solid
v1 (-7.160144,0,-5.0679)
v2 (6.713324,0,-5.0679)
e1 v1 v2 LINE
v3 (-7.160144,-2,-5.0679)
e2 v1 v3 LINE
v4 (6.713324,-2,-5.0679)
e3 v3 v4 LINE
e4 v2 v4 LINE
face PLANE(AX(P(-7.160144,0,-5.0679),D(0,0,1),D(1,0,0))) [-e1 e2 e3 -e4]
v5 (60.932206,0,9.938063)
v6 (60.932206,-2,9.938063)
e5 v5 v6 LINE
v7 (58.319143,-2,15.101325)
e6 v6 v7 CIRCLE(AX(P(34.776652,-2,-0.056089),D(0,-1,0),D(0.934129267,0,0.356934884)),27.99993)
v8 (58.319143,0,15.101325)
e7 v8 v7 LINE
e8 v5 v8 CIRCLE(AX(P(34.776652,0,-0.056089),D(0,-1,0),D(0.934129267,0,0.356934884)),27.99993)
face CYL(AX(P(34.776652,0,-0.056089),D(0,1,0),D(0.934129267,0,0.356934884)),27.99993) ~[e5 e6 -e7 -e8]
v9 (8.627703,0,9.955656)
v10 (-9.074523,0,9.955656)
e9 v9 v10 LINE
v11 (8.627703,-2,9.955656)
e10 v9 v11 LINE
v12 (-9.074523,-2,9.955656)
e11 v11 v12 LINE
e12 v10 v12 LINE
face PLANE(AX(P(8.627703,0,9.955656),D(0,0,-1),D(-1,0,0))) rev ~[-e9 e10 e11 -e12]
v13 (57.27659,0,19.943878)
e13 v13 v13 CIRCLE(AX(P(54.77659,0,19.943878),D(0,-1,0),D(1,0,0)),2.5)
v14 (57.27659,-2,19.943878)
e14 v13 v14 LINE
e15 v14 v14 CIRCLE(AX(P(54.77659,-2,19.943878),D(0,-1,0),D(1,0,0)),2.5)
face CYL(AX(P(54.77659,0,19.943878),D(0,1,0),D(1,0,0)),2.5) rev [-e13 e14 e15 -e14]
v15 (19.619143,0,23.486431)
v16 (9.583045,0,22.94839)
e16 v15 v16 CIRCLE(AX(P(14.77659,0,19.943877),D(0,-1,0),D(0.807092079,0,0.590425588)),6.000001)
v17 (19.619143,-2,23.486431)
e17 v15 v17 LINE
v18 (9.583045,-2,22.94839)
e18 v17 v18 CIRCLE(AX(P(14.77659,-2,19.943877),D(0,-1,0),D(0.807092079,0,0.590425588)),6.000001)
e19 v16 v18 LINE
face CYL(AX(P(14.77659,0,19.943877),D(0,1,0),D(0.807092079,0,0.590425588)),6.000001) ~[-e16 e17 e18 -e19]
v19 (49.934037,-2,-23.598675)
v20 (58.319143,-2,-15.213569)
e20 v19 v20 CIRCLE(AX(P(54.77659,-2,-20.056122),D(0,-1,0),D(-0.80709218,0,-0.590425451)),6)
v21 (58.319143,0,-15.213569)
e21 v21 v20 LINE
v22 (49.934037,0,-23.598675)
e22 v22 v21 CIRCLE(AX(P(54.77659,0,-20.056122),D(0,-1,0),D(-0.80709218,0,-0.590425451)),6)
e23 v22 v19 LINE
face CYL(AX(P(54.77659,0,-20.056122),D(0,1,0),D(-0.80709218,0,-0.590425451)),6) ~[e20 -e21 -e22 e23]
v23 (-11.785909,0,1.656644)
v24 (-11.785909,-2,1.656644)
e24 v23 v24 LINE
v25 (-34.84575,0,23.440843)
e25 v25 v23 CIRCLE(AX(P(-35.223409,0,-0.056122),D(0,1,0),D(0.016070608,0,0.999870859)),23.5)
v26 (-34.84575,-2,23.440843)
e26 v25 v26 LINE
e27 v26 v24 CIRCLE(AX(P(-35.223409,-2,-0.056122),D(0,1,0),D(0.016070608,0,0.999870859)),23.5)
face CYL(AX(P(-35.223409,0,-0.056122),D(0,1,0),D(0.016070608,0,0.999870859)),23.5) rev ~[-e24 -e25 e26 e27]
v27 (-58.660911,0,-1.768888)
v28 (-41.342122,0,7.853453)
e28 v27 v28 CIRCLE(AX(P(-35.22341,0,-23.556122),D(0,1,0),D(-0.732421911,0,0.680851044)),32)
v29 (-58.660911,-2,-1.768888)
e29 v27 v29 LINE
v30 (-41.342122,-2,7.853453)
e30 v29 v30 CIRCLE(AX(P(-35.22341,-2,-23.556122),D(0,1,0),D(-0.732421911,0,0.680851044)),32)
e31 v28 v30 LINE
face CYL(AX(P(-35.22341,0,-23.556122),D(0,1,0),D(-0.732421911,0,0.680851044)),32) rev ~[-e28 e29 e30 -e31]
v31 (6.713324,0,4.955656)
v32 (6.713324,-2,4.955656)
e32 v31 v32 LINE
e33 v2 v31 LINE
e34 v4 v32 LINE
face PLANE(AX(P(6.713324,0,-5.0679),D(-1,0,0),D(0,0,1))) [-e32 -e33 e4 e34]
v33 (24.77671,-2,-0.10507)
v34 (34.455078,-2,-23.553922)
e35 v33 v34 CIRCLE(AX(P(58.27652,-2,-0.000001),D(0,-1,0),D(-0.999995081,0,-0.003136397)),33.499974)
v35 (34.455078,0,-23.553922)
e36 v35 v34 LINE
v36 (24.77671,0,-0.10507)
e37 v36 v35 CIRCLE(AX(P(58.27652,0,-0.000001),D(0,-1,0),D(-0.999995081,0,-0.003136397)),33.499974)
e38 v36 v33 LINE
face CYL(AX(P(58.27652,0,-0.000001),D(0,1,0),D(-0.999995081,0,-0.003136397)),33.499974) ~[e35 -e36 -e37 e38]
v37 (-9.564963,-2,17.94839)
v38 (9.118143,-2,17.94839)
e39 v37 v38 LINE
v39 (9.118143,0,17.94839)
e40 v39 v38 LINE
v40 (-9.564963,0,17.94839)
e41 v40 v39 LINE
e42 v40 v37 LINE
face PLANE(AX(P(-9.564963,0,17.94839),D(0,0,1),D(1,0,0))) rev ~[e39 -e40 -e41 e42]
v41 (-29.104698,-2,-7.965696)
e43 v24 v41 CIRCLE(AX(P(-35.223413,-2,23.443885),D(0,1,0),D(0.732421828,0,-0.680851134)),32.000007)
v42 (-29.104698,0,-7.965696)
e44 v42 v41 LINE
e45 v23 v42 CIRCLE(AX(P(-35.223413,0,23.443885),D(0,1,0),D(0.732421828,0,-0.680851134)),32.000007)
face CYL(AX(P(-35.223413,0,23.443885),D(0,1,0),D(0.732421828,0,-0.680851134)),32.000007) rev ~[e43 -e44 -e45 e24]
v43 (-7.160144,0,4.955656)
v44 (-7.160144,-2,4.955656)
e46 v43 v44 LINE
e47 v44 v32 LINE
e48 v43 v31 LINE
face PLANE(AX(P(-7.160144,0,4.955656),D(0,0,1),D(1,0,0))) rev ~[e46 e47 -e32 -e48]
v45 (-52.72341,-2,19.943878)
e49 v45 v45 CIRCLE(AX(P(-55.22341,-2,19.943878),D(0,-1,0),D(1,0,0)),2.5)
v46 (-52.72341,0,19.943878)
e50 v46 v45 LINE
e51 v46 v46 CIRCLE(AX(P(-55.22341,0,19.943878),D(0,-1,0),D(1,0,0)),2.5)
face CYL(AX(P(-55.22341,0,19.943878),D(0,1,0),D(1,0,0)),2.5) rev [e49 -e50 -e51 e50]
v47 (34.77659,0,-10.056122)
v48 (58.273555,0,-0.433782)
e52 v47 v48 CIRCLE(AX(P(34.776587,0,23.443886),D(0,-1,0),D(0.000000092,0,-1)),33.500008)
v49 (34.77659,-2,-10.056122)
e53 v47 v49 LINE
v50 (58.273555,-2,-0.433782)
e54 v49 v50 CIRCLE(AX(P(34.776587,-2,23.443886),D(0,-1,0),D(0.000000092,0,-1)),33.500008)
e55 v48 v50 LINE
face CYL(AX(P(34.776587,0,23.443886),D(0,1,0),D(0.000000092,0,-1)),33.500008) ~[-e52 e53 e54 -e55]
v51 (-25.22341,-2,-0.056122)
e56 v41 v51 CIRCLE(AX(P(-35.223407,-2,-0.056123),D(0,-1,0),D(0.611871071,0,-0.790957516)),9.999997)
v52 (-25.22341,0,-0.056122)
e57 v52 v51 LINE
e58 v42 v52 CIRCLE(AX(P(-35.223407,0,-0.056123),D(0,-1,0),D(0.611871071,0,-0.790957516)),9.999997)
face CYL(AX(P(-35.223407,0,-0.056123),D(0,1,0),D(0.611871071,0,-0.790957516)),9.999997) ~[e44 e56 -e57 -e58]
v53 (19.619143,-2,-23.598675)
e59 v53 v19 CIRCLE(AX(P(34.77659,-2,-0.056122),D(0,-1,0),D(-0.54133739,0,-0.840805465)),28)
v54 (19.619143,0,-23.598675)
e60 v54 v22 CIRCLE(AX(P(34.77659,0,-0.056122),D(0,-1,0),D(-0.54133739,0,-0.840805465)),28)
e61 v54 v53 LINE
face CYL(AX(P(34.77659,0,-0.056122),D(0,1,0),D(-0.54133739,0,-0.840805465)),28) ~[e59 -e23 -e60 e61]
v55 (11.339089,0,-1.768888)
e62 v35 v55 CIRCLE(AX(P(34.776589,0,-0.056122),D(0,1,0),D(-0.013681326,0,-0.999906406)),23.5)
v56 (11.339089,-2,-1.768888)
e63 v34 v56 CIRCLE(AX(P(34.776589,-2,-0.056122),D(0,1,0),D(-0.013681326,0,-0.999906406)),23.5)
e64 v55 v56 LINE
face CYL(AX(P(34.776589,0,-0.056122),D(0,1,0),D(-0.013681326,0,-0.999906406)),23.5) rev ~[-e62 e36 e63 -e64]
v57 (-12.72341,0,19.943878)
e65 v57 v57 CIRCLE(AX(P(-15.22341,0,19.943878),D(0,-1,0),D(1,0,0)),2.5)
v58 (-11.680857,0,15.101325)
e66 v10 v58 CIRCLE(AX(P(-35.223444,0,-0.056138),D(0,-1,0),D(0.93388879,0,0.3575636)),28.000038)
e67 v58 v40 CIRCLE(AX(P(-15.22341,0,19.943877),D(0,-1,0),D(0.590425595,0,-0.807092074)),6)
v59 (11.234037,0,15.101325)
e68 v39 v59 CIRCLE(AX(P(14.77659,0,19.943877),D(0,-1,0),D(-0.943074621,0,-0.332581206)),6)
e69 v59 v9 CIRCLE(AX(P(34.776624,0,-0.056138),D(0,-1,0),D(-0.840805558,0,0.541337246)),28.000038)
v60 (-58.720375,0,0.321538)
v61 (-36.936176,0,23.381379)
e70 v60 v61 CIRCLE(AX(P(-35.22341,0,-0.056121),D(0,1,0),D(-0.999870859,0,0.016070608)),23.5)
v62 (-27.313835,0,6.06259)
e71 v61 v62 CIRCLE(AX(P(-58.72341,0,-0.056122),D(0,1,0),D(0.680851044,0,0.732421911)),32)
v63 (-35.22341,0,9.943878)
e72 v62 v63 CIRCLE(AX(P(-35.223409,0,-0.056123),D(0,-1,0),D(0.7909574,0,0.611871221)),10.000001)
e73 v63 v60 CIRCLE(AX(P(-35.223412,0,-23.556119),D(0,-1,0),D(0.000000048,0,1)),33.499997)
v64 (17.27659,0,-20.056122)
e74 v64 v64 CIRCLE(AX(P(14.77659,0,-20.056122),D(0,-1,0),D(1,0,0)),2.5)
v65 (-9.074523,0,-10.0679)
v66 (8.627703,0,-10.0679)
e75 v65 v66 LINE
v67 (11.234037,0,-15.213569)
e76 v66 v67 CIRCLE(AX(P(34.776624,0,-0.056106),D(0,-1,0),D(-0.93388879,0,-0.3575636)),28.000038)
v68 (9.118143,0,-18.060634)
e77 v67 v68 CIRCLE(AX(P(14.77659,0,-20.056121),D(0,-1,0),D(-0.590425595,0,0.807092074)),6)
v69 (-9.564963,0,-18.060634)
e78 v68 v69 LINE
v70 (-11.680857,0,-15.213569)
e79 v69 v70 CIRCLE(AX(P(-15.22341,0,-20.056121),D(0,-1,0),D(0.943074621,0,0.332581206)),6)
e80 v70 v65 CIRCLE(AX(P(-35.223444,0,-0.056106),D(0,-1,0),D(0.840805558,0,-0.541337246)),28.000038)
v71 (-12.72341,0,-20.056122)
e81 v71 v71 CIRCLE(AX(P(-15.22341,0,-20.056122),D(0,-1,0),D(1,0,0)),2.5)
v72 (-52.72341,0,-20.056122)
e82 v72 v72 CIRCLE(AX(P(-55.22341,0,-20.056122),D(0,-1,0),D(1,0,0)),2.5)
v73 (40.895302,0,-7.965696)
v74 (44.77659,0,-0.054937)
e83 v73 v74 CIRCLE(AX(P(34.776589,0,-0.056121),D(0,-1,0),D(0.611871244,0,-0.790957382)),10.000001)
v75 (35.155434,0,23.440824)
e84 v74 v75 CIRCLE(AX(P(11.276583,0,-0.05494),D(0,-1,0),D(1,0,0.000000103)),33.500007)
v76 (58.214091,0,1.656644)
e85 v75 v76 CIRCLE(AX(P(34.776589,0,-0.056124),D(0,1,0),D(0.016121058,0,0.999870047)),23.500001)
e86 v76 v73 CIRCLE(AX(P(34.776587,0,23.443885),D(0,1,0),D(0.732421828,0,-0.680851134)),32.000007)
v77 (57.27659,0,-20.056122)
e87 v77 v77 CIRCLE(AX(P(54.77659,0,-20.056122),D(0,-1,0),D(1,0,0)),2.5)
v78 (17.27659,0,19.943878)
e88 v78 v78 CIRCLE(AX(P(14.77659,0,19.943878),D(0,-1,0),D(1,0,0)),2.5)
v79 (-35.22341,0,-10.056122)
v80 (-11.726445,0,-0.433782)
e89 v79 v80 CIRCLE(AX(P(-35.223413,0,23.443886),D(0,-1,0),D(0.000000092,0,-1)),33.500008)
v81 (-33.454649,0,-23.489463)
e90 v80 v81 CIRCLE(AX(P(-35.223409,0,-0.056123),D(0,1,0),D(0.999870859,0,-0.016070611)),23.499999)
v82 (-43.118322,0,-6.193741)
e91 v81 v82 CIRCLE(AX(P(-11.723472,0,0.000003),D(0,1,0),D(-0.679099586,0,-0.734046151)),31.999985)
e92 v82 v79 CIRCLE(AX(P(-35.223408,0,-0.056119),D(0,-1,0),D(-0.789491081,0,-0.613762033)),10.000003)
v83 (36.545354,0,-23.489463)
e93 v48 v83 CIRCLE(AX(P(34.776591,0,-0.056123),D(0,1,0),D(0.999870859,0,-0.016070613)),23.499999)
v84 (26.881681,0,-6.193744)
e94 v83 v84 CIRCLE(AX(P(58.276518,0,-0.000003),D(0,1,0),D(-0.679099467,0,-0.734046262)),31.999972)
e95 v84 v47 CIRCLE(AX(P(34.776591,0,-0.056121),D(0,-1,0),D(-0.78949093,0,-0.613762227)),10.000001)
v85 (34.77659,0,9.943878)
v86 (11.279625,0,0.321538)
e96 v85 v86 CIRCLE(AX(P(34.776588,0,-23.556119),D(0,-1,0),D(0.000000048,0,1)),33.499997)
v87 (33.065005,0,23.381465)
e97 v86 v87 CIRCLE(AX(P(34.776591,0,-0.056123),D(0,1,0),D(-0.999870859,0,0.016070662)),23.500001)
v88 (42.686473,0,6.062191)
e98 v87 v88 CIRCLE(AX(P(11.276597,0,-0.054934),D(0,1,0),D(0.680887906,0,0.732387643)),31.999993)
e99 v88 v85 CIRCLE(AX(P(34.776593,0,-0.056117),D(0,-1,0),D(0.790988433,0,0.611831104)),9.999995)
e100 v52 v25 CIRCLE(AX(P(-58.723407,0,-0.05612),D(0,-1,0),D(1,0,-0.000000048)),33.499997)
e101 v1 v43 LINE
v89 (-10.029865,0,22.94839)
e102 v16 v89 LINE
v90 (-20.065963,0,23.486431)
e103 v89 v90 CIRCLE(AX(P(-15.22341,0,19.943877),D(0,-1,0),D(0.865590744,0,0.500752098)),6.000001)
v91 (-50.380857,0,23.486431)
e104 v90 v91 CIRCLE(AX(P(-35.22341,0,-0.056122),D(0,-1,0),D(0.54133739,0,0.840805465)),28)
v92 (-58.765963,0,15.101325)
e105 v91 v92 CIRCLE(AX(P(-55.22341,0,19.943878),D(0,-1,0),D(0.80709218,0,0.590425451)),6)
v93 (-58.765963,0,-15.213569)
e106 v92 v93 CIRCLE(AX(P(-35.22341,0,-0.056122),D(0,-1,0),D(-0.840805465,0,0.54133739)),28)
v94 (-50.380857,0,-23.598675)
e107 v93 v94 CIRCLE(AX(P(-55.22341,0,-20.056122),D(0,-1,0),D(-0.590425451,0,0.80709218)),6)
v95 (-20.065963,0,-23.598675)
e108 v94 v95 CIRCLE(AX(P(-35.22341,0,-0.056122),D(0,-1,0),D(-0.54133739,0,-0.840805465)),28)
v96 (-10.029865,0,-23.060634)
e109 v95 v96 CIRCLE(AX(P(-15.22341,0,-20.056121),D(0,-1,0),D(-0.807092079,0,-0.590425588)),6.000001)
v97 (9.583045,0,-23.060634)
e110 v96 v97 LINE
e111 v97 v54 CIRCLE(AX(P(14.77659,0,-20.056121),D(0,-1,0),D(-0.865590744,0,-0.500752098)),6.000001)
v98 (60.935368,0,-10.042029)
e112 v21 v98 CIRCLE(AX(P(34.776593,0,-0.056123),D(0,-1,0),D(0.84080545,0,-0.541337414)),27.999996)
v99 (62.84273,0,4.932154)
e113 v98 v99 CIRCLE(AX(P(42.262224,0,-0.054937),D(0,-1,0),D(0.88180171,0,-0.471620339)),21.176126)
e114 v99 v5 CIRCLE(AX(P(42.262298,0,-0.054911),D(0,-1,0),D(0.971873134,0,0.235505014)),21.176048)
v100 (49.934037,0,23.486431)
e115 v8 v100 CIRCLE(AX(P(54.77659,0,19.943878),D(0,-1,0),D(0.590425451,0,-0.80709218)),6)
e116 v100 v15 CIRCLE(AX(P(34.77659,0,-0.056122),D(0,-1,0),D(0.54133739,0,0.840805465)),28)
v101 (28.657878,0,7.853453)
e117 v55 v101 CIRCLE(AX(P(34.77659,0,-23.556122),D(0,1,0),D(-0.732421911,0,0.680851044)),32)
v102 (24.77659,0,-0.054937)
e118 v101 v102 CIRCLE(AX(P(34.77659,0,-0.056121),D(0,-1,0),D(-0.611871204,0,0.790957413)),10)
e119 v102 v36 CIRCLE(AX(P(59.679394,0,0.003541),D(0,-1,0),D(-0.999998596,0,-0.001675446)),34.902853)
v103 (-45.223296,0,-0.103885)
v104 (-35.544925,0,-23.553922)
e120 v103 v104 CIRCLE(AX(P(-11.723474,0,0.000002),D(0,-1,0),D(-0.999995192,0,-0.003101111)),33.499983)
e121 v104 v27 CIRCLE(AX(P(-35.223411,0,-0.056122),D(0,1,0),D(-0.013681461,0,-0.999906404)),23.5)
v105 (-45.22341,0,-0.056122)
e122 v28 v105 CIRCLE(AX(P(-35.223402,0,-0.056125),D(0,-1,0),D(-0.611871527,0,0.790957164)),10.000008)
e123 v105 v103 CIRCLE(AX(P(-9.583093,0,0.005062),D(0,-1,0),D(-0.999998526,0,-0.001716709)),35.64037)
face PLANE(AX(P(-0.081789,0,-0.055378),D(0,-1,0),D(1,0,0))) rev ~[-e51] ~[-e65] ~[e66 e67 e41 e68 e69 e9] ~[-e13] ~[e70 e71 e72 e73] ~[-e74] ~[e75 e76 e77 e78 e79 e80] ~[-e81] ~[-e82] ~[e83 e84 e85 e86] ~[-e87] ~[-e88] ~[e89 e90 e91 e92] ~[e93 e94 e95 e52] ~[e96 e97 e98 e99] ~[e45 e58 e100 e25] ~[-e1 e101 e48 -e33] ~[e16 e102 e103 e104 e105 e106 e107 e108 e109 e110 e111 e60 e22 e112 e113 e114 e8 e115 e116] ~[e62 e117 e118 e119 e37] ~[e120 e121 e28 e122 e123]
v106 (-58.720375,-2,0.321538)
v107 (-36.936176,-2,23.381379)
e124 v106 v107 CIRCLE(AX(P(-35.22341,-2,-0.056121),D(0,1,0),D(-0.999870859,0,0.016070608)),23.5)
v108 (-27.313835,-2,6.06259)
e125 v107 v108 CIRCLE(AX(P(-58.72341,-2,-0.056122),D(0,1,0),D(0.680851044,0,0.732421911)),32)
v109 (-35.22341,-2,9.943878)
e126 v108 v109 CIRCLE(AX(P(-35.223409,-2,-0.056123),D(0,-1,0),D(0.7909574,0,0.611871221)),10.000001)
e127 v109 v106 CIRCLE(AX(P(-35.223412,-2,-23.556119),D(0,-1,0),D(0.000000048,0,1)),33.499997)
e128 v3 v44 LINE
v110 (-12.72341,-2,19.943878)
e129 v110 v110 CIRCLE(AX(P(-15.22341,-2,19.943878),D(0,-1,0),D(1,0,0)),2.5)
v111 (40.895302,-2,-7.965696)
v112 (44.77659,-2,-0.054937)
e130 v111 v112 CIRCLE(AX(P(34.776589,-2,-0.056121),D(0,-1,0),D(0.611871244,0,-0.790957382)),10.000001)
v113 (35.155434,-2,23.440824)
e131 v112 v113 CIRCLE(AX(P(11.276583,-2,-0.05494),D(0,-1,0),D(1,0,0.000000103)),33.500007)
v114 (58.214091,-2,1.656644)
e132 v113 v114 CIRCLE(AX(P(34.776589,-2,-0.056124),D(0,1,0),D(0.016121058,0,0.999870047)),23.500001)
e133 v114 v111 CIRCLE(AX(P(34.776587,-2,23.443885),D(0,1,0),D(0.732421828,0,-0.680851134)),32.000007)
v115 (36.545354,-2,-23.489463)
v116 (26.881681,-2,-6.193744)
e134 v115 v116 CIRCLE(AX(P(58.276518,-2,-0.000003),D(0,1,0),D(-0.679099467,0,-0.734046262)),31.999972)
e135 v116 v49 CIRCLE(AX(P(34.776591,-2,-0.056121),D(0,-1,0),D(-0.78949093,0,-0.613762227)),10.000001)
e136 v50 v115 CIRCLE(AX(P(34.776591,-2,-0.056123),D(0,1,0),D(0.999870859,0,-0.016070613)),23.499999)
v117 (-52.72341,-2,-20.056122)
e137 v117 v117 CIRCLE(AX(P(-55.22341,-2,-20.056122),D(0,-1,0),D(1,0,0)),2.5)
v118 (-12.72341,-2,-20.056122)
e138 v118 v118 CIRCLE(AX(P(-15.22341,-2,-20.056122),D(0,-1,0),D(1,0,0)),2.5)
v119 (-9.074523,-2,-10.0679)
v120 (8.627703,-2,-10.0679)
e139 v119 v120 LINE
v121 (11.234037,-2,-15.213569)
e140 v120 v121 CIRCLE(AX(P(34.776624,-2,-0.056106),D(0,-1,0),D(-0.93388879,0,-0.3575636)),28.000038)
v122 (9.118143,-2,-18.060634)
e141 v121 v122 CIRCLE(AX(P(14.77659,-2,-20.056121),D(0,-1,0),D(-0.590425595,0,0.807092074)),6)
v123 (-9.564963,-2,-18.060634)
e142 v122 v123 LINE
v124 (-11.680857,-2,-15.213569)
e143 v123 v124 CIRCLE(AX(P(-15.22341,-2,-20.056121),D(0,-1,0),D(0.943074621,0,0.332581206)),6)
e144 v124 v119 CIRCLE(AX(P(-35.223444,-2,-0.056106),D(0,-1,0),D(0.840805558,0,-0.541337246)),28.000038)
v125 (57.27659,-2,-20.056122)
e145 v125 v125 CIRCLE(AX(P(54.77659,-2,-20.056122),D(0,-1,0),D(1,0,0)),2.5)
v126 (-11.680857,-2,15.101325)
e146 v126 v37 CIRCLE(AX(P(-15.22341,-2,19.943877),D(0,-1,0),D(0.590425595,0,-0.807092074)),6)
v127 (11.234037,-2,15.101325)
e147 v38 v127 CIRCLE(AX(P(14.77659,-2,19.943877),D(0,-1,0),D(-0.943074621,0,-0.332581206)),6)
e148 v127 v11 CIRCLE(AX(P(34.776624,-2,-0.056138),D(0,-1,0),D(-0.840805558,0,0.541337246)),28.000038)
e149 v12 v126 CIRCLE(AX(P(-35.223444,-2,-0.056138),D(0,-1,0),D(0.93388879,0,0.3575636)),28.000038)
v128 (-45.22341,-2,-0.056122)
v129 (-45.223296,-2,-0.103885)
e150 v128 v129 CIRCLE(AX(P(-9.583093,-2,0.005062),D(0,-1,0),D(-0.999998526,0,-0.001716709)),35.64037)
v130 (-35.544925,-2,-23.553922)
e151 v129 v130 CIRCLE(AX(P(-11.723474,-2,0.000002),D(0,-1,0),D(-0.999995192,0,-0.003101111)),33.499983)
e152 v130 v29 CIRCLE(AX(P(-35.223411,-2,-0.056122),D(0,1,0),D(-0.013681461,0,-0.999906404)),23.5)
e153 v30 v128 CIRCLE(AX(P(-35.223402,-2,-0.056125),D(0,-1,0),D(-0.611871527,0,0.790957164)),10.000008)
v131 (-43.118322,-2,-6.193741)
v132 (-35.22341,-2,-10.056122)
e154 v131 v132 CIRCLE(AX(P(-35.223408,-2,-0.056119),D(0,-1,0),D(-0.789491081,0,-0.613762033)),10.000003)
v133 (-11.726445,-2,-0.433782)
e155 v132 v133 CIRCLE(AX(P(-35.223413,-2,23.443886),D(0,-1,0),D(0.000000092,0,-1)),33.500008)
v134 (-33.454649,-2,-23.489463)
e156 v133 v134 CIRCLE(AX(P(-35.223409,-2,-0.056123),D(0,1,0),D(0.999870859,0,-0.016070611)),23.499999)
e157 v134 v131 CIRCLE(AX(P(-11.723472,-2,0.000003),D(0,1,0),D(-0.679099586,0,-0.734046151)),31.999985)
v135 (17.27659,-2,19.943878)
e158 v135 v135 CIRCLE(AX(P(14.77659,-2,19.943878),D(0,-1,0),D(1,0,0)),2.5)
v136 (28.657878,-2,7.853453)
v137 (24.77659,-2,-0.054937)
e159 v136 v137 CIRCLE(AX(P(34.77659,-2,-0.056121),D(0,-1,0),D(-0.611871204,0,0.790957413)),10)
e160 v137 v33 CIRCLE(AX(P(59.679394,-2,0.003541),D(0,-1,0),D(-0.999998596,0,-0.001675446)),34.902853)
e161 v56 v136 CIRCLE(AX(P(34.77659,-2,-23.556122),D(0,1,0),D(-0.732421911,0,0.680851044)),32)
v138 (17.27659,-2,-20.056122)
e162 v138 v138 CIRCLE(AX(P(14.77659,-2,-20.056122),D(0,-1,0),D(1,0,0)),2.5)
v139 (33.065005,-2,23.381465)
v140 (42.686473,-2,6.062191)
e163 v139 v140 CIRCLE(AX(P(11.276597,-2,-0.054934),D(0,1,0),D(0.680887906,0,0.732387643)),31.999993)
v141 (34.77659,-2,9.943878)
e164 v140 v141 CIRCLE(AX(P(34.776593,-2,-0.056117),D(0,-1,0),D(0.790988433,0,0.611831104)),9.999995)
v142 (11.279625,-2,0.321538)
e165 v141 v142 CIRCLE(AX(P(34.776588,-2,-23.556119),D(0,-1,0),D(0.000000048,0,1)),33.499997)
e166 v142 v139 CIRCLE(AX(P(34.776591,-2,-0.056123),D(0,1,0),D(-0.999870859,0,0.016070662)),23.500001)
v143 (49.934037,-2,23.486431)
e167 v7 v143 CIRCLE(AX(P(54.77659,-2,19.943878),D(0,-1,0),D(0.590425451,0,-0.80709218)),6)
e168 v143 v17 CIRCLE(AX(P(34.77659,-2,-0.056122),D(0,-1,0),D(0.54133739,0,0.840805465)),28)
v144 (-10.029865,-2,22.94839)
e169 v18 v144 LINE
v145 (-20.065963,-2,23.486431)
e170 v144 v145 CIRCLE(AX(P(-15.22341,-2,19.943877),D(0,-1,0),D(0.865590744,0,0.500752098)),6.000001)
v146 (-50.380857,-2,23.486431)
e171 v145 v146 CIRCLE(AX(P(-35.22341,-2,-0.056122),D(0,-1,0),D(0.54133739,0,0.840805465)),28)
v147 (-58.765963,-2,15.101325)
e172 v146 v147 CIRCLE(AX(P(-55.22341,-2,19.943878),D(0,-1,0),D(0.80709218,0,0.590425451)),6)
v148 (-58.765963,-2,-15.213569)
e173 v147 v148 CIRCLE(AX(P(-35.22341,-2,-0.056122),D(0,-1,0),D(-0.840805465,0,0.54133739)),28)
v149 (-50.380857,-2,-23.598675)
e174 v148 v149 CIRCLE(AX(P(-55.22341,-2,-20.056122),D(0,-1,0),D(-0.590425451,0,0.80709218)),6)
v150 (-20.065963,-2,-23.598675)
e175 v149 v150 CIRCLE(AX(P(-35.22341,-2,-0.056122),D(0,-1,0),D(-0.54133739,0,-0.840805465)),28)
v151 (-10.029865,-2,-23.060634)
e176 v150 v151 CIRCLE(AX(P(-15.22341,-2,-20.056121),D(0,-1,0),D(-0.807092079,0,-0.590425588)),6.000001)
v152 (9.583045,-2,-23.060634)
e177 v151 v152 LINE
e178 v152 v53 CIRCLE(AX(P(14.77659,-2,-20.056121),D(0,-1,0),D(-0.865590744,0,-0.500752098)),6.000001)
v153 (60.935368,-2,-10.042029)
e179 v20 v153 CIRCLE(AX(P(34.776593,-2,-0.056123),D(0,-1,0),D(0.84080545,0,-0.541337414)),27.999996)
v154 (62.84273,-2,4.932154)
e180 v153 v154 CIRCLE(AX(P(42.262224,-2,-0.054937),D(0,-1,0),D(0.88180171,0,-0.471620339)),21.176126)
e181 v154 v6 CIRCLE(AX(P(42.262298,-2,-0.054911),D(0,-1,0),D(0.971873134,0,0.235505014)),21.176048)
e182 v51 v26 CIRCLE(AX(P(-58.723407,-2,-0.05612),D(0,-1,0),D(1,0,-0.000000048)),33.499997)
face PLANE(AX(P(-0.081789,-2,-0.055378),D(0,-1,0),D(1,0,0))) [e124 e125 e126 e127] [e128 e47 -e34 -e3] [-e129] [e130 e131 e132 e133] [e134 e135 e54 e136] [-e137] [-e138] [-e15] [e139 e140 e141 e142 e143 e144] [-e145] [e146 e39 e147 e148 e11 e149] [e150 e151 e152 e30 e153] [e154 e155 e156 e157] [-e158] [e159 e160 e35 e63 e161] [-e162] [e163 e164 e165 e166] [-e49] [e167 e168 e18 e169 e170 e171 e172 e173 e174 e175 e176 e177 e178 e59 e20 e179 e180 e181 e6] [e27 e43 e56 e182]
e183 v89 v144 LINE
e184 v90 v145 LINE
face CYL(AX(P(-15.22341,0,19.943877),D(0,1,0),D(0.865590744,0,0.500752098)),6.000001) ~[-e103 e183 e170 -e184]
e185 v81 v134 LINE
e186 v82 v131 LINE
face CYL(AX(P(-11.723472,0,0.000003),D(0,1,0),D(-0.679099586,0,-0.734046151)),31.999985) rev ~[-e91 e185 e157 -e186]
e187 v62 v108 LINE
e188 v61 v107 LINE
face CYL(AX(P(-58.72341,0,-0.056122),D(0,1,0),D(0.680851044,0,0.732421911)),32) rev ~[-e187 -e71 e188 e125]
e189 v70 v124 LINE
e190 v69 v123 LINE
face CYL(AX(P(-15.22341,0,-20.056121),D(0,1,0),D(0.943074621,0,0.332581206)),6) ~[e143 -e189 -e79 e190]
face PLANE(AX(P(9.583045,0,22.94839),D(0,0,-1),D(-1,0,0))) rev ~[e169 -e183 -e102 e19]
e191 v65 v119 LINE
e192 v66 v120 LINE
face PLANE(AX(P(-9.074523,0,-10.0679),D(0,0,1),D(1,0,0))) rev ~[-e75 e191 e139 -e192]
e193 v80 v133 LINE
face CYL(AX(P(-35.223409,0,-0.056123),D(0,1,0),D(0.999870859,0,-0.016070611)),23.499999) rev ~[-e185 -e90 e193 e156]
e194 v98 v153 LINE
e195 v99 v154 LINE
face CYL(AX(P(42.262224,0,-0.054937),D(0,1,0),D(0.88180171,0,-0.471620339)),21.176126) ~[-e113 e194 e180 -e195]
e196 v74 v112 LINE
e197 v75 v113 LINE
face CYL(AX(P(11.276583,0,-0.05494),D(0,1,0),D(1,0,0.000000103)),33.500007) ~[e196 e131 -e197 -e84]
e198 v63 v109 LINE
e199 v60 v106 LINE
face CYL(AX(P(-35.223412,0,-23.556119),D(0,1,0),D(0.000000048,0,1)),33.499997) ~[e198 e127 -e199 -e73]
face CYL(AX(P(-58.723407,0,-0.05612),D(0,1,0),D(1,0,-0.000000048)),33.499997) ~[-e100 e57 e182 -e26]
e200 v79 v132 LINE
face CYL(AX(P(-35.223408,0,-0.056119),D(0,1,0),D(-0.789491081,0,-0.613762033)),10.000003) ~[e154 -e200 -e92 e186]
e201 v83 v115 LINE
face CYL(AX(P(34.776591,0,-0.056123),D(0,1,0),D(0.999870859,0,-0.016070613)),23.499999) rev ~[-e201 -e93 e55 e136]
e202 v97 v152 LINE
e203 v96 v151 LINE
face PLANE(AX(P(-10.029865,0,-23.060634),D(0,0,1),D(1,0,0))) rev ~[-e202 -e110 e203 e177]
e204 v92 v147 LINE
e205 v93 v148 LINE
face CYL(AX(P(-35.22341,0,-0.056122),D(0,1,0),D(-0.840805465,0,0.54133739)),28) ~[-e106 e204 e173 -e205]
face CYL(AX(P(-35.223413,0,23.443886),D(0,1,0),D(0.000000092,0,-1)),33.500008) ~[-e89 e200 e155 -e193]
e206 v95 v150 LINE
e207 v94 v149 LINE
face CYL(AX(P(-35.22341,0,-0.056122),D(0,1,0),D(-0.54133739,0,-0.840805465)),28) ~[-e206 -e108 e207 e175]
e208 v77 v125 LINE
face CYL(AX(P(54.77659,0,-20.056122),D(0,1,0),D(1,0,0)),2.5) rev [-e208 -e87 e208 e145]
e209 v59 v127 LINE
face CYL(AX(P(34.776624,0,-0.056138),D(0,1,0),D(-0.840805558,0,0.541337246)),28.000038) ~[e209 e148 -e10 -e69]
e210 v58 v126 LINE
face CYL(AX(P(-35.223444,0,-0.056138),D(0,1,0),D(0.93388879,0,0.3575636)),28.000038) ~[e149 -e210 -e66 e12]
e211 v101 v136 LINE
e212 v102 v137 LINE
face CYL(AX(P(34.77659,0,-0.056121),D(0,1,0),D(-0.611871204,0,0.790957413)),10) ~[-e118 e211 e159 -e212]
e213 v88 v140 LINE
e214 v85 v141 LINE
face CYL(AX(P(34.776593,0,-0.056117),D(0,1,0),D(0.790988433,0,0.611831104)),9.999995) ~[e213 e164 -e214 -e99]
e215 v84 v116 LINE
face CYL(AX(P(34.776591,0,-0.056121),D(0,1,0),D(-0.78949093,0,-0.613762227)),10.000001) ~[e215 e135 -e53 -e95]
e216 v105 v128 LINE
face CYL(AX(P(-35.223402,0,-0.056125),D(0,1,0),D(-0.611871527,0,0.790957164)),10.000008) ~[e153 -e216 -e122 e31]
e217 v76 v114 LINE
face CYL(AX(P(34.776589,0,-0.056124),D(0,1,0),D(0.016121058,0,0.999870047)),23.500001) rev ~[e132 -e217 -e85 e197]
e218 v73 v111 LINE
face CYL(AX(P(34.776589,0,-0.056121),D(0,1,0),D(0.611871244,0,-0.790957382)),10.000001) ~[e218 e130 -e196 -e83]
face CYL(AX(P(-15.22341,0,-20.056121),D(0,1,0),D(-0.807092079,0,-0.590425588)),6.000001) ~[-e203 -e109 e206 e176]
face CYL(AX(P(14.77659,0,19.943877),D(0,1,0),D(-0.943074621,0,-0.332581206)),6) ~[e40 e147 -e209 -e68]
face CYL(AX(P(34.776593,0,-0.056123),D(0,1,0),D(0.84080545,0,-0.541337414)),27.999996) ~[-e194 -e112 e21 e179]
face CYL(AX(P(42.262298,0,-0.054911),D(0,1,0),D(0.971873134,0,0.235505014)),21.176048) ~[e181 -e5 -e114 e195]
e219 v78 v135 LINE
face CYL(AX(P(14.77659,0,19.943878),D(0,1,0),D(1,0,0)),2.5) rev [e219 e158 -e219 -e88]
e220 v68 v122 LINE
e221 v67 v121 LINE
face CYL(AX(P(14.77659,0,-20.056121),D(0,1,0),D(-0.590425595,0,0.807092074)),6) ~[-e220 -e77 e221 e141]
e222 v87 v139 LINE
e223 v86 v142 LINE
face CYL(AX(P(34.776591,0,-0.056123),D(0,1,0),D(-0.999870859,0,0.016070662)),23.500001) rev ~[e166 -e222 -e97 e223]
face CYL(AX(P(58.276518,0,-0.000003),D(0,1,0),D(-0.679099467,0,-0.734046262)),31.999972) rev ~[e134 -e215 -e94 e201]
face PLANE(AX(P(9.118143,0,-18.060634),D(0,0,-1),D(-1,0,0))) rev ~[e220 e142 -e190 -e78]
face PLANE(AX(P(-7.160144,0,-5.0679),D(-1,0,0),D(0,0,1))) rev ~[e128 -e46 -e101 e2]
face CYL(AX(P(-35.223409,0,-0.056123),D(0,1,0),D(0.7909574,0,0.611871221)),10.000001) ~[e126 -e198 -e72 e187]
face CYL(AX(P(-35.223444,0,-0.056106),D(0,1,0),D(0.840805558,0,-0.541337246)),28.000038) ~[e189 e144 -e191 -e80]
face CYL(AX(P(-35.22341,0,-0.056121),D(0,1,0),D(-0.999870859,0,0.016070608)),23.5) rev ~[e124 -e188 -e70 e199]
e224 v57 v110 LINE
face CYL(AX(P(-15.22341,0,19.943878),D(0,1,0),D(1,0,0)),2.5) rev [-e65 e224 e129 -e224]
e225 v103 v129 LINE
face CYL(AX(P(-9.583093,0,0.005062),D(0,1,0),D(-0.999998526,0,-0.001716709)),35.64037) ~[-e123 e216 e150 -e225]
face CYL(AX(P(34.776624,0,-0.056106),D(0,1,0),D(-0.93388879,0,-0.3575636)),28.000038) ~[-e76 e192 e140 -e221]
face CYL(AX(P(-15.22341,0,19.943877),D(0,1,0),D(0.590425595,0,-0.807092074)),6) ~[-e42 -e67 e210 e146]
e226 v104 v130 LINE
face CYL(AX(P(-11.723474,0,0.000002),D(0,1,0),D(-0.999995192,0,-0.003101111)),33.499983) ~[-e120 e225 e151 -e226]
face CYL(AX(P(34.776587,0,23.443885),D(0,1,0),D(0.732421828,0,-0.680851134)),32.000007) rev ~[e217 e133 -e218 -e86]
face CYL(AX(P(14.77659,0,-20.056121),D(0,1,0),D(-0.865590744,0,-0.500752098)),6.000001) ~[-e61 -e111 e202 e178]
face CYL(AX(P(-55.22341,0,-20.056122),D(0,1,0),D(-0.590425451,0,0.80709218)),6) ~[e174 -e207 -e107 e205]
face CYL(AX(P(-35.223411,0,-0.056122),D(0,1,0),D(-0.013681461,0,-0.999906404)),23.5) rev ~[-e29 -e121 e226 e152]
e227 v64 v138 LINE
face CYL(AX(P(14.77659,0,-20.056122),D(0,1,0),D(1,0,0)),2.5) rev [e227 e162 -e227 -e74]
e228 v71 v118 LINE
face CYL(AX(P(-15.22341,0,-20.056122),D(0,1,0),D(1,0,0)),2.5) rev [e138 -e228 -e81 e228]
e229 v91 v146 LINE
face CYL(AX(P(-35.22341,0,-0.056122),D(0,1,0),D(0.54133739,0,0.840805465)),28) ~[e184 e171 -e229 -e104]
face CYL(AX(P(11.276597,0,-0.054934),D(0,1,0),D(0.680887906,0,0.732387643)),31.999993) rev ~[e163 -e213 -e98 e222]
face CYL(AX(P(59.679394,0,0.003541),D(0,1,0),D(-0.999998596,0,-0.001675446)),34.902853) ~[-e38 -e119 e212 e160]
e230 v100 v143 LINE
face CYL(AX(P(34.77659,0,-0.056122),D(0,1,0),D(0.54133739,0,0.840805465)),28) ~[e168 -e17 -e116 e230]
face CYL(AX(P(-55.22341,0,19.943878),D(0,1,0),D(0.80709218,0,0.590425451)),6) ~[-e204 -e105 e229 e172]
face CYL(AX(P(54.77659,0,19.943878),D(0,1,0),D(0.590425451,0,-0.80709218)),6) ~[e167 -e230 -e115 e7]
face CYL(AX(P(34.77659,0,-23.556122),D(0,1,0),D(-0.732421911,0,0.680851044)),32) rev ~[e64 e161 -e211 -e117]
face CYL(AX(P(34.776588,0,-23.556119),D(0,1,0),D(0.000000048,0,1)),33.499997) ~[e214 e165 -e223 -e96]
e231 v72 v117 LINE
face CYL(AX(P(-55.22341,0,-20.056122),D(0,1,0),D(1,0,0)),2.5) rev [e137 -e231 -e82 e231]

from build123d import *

# Parameters (mm, degrees)
F0_R     = 2.5
F0_W     = 13.873467
F0_H     = 10.023556
F1_DEPTH = 2


with BuildPart() as f1:
    # F0 (on Front) → F1 (new body)
    with BuildSketch(Plane.XZ):
        with BuildLine():
            ThreePointArc((36.719143, 15.101325), (37.419231, 24.186519), (28.334037, 23.486431))
            ThreePointArc((28.334037, 23.486431), (13.17659, 27.943878), (-1.980857, 23.486431))
            ThreePointArc((-1.980857, 23.486431), (-7.144612, 25.935274), (-12.016955, 22.94839))
            Line((-12.016955, 22.94839), (-31.629865, 22.94839))
            ThreePointArc((-31.629865, 22.94839), (-36.502208, 25.935274), (-41.665963, 23.486431))
            ThreePointArc((-41.665963, 23.486431), (-56.82341, 27.943878), (-71.980857, 23.486431))
            ThreePointArc((-71.980857, 23.486431), (-81.066051, 24.186519), (-80.365963, 15.101325))
            ThreePointArc((-80.365963, 15.101325), (-84.82341, -0.056122), (-80.365963, -15.213569))
            ThreePointArc((-80.365963, -15.213569), (-81.066051, -24.298763), (-71.980857, -23.598675))
            ThreePointArc((-71.980857, -23.598675), (-56.82341, -28.056122), (-41.665963, -23.598675))
            ThreePointArc((-41.665963, -23.598675), (-36.502208, -26.047518), (-31.629865, -23.060634))
            Line((-31.629865, -23.060634), (-12.016955, -23.060634))
            ThreePointArc((-12.016955, -23.060634), (-7.144612, -26.047518), (-1.980857, -23.598675))
            ThreePointArc((-1.980857, -23.598675), (13.17659, -28.056122), (28.334037, -23.598675))
            ThreePointArc((28.334037, -23.598675), (37.419231, -24.298763), (36.719143, -15.213569))
            ThreePointArc((36.719143, -15.213569), (38.161421, -12.695672), (39.335368, -10.042029))
            ThreePointArc((39.335368, -10.042029), (41.668623, -2.730663), (41.24273, 4.932154))
            ThreePointArc((41.24273, 4.932154), (40.446435, 7.495779), (39.332206, 9.938063))
            ThreePointArc((39.332206, 9.938063), (38.159421, 12.587381), (36.719143, 15.101325))
        make_face()
        with Locations((-76.82341, -20.056122)):
            Circle(F0_R, mode=Mode.SUBTRACT)
        with Locations((-36.82341, -20.056122)):
            Circle(F0_R, mode=Mode.SUBTRACT)
        with BuildLine():
            ThreePointArc((-12.972297, -10.0679), (-11.801986, -12.708028), (-10.365963, -15.213569))
            ThreePointArc((-10.365963, -15.213569), (-11.639118, -16.477162), (-12.481857, -18.060634))
            Line((-12.481857, -18.060634), (-31.164963, -18.060634))
            ThreePointArc((-31.164963, -18.060634), (-32.007702, -16.477162), (-33.280857, -15.213569))
            ThreePointArc((-33.280857, -15.213569), (-31.844834, -12.708028), (-30.674523, -10.0679))
            Line((-30.674523, -10.0679), (-12.972297, -10.0679))
        make_face(mode=Mode.SUBTRACT)
        with BuildLine():
            ThreePointArc((-62.942122, 7.853453), (-65.800801, 4.349152), (-66.82341, -0.056122))
            ThreePointArc((-66.82341, -0.056122), (-66.823361, -0.080004), (-66.823296, -0.103885))
            ThreePointArc((-66.823296, -0.103885), (-64.289716, -12.78048), (-57.144925, -23.553922))
            ThreePointArc((-57.144925, -23.553922), (-72.940781, -17.158179), (-80.260911, -1.768888))
            ThreePointArc((-80.260911, -1.768888), (-72.36496, 4.416369), (-62.942122, 7.853453))
        make_face(mode=Mode.SUBTRACT)
        with BuildLine():
            ThreePointArc((-64.718322, -6.193741), (-61.217941, -9.038777), (-56.82341, -10.056122))
            ThreePointArc((-56.82341, -10.056122), (-44.12797, -7.557344), (-33.326445, -0.433782))
            ThreePointArc((-33.326445, -0.433782), (-39.721353, -16.173493), (-55.054649, -23.489463))
            ThreePointArc((-55.054649, -23.489463), (-61.25874, -15.608324), (-64.718322, -6.193741))
        make_face(mode=Mode.SUBTRACT)
        with Locations((-6.82341, -20.056122)):
            Circle(F0_R, mode=Mode.SUBTRACT)
        with Locations((33.17659, -20.056122)):
            Circle(F0_R, mode=Mode.SUBTRACT)
        with BuildLine():
            ThreePointArc((7.057878, 7.853453), (4.199459, 4.349684), (3.17659, -0.054937))
            ThreePointArc((3.17659, -0.054937), (3.176641, -0.080004), (3.17671, -0.10507))
            ThreePointArc((3.17671, -0.10507), (5.710512, -12.781028), (12.855078, -23.553922))
            ThreePointArc((12.855078, -23.553922), (-2.94078, -17.15818), (-10.260911, -1.768888))
            ThreePointArc((-10.260911, -1.768888), (-2.36496, 4.416369), (7.057878, 7.853453))
        make_face(mode=Mode.SUBTRACT)
        with BuildLine():
            ThreePointArc((5.281681, -6.193744), (8.782061, -9.038778), (13.17659, -10.056122))
            ThreePointArc((13.17659, -10.056122), (25.87203, -7.557344), (36.673555, -0.433782))
            ThreePointArc((36.673555, -0.433782), (30.278648, -16.173492), (14.945354, -23.489463))
            ThreePointArc((14.945354, -23.489463), (8.741263, -15.608326), (5.281681, -6.193744))
        make_face(mode=Mode.SUBTRACT)
        with BuildLine():
            ThreePointArc((-80.320375, 0.321538), (-73.9062, 16.081669), (-58.536176, 23.381379))
            ThreePointArc((-58.536176, 23.381379), (-52.350919, 15.485428), (-48.913835, 6.06259))
            ThreePointArc((-48.913835, 6.06259), (-52.418136, 8.92127), (-56.82341, 9.943878))
            ThreePointArc((-56.82341, 9.943878), (-69.51885, 7.445101), (-80.320375, 0.321538))
        make_face(mode=Mode.SUBTRACT)
        with Locations((-21.82341, -0.056122)):
            Rectangle(F0_W, F0_H, mode=Mode.SUBTRACT)
        with BuildLine():
            ThreePointArc((-50.704698, -7.965696), (-47.846018, -4.461396), (-46.82341, -0.056122))
            ThreePointArc((-46.82341, -0.056122), (-49.322187, 12.639318), (-56.44575, 23.440843))
            ThreePointArc((-56.44575, 23.440843), (-40.685619, 17.026668), (-33.385909, 1.656644))
            ThreePointArc((-33.385909, 1.656644), (-41.28186, -4.528612), (-50.704698, -7.965696))
        make_face(mode=Mode.SUBTRACT)
        with Locations((-76.82341, 19.943878)):
            Circle(F0_R, mode=Mode.SUBTRACT)
        with BuildLine():
            Line((-12.972297, 9.955656), (-30.674523, 9.955656))
            ThreePointArc((-30.674523, 9.955656), (-31.844834, 12.595784), (-33.280857, 15.101325))
            ThreePointArc((-33.280857, 15.101325), (-32.007702, 16.364918), (-31.164963, 17.94839))
            Line((-31.164963, 17.94839), (-12.481857, 17.94839))
            ThreePointArc((-12.481857, 17.94839), (-11.639118, 16.364918), (-10.365963, 15.101325))
            ThreePointArc((-10.365963, 15.101325), (-11.801986, 12.595784), (-12.972297, 9.955656))
        make_face(mode=Mode.SUBTRACT)
        with Locations((-36.82341, 19.943878)):
            Circle(F0_R, mode=Mode.SUBTRACT)
        with BuildLine():
            ThreePointArc((-10.320375, 0.321538), (-3.905793, 16.082099), (11.465005, 23.381465))
            ThreePointArc((11.465005, 23.381465), (17.649864, 15.485203), (21.086473, 6.062191))
            ThreePointArc((21.086473, 6.062191), (17.582091, 8.921159), (13.17659, 9.943878))
            ThreePointArc((13.17659, 9.943878), (0.48115, 7.445101), (-10.320375, 0.321538))
        make_face(mode=Mode.SUBTRACT)
        with BuildLine():
            ThreePointArc((19.295302, -7.965696), (22.154242, -4.460865), (23.17659, -0.054937))
            ThreePointArc((23.17659, -0.054937), (20.678132, 12.639721), (13.555434, 23.440824))
            ThreePointArc((13.555434, 23.440824), (29.314811, 17.026261), (36.614091, 1.656644))
            ThreePointArc((36.614091, 1.656644), (28.71814, -4.528612), (19.295302, -7.965696))
        make_face(mode=Mode.SUBTRACT)
        with Locations((-6.82341, 19.943878)):
            Circle(F0_R, mode=Mode.SUBTRACT)
        with Locations((33.17659, 19.943878)):
            Circle(F0_R, mode=Mode.SUBTRACT)
    extrude(amount=F1_DEPTH)


with BuildPart() as f1_1:
    # F2: moved
    add(f1.part.moved(Location((21.6, 0, 0))))


solid = f1_1.part
